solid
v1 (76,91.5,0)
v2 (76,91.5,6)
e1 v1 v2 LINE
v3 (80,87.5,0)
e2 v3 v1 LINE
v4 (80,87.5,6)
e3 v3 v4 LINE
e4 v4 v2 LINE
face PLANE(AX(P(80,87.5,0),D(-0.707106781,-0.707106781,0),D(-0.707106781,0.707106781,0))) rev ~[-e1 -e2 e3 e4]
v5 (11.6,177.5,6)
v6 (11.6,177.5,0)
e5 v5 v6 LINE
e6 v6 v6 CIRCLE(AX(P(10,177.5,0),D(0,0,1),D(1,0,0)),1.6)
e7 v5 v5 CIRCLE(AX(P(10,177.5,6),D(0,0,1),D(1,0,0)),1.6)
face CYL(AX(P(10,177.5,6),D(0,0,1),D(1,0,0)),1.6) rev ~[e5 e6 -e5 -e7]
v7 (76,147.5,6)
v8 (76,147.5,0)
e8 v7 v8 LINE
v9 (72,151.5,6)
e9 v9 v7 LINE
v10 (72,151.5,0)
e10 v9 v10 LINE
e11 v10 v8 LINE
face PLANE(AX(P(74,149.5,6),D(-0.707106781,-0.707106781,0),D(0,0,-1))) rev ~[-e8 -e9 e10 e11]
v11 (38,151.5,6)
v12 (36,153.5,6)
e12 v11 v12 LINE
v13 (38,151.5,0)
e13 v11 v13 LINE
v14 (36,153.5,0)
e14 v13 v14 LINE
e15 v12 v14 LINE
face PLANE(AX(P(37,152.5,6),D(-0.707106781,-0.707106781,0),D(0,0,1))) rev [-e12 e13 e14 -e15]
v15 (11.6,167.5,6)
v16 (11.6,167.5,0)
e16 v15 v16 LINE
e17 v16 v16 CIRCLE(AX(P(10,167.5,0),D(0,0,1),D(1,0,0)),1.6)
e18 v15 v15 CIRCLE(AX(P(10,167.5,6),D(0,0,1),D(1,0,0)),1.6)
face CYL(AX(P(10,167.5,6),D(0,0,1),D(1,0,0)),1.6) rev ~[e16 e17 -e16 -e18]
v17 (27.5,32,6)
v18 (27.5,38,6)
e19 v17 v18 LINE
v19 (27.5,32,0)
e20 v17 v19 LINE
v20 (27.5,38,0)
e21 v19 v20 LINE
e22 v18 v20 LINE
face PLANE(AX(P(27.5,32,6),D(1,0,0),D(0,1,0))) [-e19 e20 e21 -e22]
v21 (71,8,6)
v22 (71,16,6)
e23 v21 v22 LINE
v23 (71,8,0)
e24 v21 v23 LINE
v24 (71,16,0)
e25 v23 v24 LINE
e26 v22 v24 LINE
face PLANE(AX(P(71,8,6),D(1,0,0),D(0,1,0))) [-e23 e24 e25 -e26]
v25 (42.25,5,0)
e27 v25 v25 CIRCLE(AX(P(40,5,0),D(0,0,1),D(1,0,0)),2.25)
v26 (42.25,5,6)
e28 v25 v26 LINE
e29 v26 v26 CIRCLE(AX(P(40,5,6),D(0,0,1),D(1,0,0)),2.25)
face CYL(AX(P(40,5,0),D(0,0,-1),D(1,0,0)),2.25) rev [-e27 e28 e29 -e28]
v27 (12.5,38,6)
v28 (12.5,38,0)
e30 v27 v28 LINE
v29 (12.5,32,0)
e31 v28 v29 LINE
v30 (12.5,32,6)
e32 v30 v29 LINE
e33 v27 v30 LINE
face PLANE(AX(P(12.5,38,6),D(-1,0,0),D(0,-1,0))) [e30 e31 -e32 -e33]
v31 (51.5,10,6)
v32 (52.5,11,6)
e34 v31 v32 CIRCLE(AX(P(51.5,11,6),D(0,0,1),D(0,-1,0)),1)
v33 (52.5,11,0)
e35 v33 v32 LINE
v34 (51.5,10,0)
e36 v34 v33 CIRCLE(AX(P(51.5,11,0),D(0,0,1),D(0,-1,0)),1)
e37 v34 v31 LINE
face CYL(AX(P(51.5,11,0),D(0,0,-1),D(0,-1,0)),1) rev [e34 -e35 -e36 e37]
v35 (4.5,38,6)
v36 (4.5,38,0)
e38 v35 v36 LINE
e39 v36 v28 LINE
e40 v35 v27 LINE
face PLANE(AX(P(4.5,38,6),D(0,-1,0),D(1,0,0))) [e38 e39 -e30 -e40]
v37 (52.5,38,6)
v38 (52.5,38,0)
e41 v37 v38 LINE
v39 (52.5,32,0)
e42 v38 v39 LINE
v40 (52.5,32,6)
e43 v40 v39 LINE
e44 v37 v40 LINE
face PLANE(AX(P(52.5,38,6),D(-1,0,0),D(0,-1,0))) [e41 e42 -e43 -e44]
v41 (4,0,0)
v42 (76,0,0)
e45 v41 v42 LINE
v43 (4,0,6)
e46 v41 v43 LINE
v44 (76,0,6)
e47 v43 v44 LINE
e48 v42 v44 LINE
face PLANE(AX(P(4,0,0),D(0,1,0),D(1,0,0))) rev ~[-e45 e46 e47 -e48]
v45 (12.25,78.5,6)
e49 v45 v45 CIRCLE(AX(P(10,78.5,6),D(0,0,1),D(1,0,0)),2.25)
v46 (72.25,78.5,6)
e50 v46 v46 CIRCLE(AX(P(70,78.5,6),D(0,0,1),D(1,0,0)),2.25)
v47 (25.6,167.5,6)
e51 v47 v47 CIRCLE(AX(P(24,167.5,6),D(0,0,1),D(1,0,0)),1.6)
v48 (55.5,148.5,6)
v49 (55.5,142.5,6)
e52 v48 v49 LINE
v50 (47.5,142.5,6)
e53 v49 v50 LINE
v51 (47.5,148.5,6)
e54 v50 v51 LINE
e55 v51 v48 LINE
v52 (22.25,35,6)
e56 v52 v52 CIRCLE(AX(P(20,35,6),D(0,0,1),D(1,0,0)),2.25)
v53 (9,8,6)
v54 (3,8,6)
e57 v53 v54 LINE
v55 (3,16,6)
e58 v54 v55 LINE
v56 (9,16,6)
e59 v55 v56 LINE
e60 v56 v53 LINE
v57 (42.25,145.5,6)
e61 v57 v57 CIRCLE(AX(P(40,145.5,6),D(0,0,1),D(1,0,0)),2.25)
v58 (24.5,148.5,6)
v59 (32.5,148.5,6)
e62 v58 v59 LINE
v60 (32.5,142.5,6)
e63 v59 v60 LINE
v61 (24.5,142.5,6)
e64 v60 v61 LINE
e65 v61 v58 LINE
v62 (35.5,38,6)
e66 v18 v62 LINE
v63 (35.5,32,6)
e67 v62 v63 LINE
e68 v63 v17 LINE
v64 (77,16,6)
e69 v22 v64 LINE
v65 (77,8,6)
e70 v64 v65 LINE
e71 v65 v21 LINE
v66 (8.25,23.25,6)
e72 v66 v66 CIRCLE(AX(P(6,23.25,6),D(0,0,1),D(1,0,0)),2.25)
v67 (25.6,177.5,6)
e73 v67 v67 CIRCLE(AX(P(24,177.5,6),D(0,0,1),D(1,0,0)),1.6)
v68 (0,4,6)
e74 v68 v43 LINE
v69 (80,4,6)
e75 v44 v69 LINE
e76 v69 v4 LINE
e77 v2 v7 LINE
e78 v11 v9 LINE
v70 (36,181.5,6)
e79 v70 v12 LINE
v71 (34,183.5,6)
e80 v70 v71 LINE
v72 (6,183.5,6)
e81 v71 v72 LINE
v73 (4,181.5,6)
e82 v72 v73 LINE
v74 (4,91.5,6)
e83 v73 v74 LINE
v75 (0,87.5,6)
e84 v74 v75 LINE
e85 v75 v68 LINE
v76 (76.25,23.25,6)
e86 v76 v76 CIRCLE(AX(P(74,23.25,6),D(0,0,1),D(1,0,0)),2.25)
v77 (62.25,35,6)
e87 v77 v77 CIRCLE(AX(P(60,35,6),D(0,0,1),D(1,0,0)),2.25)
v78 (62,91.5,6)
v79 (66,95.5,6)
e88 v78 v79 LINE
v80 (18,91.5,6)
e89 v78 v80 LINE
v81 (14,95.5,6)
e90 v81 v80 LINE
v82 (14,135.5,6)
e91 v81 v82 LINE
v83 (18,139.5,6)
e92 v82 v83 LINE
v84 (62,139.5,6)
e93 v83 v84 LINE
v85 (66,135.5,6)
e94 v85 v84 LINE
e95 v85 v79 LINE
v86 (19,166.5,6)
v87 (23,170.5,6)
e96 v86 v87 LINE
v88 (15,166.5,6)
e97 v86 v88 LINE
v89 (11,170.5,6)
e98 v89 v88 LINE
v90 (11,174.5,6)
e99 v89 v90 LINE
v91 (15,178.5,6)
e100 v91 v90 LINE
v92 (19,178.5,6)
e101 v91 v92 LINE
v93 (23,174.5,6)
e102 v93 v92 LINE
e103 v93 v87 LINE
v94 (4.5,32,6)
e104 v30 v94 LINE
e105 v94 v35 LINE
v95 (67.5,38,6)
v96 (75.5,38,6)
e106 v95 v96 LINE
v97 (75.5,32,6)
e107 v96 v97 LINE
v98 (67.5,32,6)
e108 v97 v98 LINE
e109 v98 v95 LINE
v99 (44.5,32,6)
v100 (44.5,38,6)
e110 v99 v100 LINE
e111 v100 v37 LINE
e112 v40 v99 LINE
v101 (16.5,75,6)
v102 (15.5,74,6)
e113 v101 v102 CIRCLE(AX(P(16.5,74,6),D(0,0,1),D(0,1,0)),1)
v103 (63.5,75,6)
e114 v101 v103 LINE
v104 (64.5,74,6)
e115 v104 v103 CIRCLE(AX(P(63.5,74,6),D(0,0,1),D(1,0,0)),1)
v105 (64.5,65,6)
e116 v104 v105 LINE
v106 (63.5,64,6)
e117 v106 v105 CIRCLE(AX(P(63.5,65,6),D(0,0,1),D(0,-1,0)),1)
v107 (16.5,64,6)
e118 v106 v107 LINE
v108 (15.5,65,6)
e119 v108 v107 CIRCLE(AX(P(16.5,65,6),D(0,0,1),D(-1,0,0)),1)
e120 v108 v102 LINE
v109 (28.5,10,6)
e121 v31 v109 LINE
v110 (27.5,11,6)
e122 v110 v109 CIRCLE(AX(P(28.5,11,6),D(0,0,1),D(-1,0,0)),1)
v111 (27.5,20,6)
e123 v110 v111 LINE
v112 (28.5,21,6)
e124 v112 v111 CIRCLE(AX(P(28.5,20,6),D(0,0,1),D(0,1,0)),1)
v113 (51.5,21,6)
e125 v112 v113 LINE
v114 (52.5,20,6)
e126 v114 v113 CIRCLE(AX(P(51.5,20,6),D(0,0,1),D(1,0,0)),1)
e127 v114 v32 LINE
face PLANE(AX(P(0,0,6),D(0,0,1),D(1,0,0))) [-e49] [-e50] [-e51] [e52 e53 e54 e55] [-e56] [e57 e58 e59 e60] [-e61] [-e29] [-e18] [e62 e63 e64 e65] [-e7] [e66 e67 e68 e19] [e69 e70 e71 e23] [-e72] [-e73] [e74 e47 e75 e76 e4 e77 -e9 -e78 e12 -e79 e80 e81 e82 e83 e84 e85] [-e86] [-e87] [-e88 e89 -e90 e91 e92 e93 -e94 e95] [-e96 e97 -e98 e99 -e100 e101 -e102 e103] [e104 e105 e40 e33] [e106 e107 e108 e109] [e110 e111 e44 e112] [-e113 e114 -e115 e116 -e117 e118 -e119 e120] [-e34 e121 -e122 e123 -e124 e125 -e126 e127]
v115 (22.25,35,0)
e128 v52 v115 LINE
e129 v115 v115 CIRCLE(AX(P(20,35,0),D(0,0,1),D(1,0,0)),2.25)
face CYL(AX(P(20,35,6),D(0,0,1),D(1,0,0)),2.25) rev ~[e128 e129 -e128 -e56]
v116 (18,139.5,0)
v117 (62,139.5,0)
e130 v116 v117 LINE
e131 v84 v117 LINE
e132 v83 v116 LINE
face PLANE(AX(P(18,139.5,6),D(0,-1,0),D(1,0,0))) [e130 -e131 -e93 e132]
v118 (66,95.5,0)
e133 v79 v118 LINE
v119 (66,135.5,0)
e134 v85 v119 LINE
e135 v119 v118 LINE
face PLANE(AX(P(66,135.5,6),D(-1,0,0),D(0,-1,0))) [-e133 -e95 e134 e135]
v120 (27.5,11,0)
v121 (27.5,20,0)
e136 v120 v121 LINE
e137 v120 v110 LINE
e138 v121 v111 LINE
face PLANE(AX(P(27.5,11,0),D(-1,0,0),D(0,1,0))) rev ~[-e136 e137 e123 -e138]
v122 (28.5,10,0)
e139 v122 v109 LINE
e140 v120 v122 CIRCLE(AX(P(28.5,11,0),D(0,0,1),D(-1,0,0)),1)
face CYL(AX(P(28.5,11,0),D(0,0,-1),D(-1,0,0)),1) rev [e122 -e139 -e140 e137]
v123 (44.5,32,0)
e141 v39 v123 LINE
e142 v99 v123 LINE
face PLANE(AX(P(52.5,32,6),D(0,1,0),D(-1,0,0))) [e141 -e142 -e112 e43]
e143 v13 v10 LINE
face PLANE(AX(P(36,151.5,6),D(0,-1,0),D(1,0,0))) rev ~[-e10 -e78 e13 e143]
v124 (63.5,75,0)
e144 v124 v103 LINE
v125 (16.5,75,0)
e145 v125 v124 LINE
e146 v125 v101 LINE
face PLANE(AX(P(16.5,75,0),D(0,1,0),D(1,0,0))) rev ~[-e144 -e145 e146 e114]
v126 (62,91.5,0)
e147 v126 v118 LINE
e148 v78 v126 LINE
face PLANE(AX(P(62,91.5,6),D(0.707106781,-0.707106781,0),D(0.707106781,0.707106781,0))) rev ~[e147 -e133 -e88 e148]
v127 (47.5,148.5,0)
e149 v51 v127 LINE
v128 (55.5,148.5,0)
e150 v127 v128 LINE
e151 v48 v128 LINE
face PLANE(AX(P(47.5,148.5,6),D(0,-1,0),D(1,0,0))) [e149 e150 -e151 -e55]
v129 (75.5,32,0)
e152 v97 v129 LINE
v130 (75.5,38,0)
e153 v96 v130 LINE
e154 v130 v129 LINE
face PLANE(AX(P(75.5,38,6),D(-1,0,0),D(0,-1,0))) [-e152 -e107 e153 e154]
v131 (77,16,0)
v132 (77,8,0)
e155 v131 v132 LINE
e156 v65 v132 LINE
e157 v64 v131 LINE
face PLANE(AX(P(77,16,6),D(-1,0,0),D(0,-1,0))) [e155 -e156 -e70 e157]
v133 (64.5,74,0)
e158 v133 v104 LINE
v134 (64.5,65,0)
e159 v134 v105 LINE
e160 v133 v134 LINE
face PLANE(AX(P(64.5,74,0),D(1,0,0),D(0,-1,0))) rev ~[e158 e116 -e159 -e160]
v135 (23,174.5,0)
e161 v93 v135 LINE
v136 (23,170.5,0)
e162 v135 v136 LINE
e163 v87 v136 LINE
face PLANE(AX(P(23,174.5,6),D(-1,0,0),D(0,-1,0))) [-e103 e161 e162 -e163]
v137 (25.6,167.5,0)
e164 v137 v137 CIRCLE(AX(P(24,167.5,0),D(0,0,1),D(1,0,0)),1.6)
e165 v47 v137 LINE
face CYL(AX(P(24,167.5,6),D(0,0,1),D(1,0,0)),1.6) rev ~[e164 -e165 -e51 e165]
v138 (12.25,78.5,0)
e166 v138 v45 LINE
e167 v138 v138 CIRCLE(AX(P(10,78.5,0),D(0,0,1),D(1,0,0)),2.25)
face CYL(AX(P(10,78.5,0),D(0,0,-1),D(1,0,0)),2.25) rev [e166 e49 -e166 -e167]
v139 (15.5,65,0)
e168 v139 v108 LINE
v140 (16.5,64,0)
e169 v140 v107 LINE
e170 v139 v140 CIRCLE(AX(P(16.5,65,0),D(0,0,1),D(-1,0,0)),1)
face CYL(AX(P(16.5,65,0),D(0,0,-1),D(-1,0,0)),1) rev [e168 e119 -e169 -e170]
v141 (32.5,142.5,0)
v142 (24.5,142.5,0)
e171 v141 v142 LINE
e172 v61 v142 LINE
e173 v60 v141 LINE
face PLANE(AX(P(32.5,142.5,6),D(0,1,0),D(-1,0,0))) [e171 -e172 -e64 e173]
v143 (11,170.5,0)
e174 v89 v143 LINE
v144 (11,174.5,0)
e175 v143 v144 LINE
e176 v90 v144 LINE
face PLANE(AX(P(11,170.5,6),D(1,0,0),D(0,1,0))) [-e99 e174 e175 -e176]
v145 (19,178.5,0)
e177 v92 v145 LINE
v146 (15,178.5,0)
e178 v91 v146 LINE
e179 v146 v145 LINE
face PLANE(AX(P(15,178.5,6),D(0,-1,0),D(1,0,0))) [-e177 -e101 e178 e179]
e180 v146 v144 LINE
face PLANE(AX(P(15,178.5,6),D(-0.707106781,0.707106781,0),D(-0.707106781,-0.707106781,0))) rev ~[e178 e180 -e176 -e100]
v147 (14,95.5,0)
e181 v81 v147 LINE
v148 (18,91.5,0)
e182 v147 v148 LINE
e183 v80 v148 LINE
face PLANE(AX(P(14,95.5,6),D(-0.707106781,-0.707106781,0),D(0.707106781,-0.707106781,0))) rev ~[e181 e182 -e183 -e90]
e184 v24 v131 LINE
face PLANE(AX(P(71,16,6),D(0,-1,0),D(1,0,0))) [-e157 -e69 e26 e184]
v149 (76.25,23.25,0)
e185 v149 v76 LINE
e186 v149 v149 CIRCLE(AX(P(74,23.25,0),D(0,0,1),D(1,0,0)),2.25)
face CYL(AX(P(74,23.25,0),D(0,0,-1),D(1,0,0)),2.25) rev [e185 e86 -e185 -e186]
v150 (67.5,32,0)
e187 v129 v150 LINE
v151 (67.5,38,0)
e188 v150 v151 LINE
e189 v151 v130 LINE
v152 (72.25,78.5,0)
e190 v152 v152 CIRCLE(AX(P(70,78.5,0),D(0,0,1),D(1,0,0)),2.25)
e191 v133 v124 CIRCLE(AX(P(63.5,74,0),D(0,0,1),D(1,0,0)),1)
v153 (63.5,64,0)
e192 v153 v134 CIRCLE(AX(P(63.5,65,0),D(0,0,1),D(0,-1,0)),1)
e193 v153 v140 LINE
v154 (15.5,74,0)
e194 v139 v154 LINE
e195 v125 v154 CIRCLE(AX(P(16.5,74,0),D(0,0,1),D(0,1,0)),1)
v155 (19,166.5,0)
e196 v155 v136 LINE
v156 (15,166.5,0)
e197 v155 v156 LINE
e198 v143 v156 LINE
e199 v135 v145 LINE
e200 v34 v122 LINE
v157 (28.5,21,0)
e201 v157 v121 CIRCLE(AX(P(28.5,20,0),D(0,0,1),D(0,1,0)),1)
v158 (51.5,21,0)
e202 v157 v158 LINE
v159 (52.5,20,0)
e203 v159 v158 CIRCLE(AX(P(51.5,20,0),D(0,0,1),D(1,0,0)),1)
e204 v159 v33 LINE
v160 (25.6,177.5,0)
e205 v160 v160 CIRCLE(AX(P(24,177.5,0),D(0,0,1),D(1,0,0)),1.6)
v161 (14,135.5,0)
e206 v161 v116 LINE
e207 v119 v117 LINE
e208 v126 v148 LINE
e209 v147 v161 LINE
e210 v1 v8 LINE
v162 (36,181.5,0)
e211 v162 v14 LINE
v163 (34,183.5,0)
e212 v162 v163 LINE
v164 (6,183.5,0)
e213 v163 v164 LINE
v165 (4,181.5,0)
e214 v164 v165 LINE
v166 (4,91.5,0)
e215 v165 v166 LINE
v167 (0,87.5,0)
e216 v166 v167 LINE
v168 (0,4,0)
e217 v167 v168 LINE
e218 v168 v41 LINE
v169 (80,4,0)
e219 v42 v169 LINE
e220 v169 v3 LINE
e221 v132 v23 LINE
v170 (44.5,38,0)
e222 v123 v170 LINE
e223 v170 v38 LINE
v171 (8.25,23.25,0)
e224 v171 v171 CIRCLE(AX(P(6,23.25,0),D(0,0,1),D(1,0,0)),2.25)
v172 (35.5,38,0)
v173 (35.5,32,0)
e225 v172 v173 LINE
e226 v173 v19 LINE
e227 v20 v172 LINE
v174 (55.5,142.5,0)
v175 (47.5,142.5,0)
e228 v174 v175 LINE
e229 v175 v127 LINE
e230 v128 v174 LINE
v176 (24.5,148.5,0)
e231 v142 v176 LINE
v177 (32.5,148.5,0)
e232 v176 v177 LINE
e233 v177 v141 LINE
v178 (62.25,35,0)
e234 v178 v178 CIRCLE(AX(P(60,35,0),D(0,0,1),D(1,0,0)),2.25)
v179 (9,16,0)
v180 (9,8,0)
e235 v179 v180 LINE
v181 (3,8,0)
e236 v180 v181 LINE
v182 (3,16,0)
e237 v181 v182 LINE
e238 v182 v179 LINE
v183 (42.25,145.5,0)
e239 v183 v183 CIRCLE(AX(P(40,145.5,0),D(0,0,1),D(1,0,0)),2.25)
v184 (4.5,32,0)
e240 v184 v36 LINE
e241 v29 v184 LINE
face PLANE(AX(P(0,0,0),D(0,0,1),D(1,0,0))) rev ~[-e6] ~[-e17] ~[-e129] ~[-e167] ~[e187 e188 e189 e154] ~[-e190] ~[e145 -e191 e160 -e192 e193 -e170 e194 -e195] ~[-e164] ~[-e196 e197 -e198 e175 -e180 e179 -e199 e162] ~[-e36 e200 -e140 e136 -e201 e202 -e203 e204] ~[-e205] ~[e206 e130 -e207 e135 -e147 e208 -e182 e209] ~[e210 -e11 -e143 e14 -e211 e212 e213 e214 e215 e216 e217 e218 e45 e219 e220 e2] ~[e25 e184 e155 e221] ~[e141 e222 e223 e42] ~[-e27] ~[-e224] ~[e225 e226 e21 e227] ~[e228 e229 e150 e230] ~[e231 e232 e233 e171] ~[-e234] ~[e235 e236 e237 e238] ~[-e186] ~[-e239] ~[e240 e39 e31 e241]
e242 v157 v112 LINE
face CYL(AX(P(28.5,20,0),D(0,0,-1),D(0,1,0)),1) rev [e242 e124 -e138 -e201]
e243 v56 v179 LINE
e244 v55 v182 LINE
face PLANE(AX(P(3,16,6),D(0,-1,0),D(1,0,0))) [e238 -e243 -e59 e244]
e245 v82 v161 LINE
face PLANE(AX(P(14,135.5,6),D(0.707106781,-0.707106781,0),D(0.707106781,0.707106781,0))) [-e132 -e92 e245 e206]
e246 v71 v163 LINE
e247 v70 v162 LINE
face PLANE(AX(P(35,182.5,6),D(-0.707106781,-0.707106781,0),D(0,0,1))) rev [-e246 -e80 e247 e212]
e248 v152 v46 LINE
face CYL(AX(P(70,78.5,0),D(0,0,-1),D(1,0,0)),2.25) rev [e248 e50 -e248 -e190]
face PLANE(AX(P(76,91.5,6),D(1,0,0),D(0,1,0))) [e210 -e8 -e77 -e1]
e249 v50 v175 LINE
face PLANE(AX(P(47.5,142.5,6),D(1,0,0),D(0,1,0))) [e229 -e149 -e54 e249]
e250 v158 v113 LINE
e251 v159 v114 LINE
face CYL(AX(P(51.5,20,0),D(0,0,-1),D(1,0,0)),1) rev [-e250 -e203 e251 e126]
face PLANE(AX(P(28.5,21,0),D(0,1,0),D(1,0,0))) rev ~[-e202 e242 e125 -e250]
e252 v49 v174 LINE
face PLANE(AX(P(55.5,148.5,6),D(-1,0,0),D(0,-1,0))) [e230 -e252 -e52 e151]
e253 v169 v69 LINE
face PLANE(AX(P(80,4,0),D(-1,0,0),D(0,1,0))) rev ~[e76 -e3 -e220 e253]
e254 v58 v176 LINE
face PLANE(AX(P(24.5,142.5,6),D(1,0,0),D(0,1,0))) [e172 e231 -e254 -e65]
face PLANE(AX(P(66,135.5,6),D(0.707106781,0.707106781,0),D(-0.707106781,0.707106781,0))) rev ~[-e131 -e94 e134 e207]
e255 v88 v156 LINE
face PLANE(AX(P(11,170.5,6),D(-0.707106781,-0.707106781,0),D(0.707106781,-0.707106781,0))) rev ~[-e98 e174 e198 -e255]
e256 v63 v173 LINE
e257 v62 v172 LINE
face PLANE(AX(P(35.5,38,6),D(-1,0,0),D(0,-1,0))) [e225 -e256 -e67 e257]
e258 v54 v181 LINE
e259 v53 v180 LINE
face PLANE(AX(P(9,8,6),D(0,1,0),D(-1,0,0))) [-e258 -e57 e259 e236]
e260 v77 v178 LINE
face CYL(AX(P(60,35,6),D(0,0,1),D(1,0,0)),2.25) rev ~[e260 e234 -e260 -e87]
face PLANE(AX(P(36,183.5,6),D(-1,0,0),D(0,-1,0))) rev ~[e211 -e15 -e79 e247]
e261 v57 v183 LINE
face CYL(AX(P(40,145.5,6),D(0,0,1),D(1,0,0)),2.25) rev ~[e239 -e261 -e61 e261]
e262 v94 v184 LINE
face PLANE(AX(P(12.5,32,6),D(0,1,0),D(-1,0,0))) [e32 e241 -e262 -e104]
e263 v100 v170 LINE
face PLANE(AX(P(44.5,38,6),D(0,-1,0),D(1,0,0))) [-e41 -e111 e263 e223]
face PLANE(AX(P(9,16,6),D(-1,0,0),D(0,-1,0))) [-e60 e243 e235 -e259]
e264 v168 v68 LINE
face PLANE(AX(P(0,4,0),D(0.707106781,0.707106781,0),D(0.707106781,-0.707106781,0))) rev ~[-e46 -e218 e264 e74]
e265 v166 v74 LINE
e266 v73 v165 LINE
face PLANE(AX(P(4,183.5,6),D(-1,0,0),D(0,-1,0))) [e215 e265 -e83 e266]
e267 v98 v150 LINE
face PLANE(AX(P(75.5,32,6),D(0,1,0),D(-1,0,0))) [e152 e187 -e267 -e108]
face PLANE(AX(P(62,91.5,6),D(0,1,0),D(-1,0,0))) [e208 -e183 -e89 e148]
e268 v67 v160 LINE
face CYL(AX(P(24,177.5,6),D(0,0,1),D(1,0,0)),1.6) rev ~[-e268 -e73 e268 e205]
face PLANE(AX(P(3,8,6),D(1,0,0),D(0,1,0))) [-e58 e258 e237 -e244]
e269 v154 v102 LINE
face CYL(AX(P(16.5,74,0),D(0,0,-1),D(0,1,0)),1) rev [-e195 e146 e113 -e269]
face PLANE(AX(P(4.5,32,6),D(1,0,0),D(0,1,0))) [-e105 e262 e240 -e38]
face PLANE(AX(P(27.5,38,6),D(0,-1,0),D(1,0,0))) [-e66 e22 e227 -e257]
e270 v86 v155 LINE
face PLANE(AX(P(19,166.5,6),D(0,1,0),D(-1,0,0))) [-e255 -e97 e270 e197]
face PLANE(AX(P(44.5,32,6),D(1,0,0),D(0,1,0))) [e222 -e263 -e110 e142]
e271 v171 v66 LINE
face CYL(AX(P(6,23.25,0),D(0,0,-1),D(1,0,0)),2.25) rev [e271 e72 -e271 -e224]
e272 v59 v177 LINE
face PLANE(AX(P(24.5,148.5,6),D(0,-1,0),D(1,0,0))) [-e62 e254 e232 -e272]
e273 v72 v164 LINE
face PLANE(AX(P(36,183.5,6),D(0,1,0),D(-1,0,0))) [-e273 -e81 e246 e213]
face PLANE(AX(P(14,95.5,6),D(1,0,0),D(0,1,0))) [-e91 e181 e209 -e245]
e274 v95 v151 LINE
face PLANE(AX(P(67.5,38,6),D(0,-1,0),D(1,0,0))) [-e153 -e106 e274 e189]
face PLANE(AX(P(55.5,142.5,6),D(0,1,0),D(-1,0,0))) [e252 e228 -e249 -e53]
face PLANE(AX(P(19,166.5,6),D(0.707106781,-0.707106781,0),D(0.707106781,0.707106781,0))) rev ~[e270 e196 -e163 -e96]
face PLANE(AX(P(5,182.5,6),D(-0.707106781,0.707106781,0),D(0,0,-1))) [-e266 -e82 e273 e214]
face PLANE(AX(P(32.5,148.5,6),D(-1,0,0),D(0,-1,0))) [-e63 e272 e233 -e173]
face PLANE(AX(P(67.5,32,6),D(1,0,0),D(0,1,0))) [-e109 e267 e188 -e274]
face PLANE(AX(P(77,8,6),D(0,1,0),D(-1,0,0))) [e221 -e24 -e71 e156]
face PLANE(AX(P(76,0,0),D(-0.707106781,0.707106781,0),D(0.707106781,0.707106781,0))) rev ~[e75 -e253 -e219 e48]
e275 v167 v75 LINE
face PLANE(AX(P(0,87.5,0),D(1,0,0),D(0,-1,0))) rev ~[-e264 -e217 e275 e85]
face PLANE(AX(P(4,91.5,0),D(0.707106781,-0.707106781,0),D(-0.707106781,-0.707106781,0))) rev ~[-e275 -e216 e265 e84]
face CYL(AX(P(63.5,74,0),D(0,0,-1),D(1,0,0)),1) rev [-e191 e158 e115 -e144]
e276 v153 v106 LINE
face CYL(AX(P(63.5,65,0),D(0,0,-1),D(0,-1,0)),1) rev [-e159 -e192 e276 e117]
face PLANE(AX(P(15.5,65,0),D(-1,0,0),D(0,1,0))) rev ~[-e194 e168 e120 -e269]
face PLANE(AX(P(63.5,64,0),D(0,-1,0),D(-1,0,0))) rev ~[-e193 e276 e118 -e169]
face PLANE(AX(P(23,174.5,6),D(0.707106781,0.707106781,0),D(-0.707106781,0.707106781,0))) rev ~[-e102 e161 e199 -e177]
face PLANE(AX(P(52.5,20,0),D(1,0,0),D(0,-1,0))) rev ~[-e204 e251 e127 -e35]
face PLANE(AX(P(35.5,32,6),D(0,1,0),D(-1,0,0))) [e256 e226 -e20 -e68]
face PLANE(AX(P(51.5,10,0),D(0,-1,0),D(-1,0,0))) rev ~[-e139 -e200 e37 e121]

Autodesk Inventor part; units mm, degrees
ref_plane "YZ Plane" through (0, 0, 0) normal (1, 0, 0) x (0, 1, 0)
ref_plane "XZ Plane" through (0, 0, 0) normal (0, 1, 0) x (-1, 0, 0)
ref_plane "XY Plane" through (0, 0, 0) normal (0, 0, 1) x (1, 0, 0)
sketch "Sketch1" plane through (0, 0, 0) normal (0, 0, 1) x (1, 0, 0)
  line L0 (4, 0) -> (76, 0)
  line L1 (80, 4) -> (80, 87.5)
  line L2 (76, 91.5) -> (4, 91.5)
  line L3 (0, 87.5) -> (0, 4)
  line L4 (0, 4) -> (4, 0)
  line L5 (76, 0) -> (80, 4)
  line L6 (80, 87.5) -> (76, 91.5)
  line L7 (4, 91.5) -> (0, 87.5)
  line L8 (16.5, 75) -> (63.5, 75)
  line L9 (64.5, 74) -> (64.5, 65)
  line L10 (63.5, 64) -> (16.5, 64)
  line L11 (15.5, 65) -> (15.5, 74)
  arc A0 (15.5, 65) -> (16.5, 64) centre (16.5, 65) ccw
  arc A1 (16.5, 75) -> (15.5, 74) centre (16.5, 74) ccw
  arc A2 (64.5, 74) -> (63.5, 75) centre (63.5, 74) ccw
  arc A3 (63.5, 64) -> (64.5, 65) centre (63.5, 65) ccw
  line L12 (28.5, 21) -> (51.5, 21)
  line L13 (52.5, 20) -> (52.5, 11)
  line L14 (51.5, 10) -> (28.5, 10)
  line L15 (27.5, 11) -> (27.5, 20)
  arc A4 (27.5, 11) -> (28.5, 10) centre (28.5, 11) ccw
  arc A5 (28.5, 21) -> (27.5, 20) centre (28.5, 20) ccw
  arc A6 (52.5, 20) -> (51.5, 21) centre (51.5, 20) ccw
  arc A7 (51.5, 10) -> (52.5, 11) centre (51.5, 11) ccw
  line L16 (15.5, 69.5) -> (64.5, 69.5) construction
  line L17 (27.5, 15.5) -> (52.5, 15.5) construction
  circle A8 centre (40, 5) radius 2.25
  circle A9 centre (10, 78.5) radius 2.25
  circle A10 centre (6, 23.25) radius 2.25
  circle A11 centre (74, 23.25) radius 2.25
  circle A12 centre (70, 78.5) radius 2.25
  point P0 (0, 0)
  point P1 (40, 64)
  point P2 (40, 21)
  point P3 (40, 75)
  point P4 (40, 91.5)
  point P5 (0, 45.75)
  point P6 (80, 45.75)
  dimension "d0" = 45
  dimension "d1" = 4
  dimension "d2" = 1
  dimension "d3" = 11
  dimension "d4" = 49
  dimension "d5" = 1
  dimension "d6" = 11
  dimension "d7" = 25
  dimension "d9" = 10
  dimension "d10" = 16.5
  dimension "d11" = 4.5
  dimension "d12" = 4.5
  dimension "d13" = 5
  dimension "d15" = 4.5
  dimension "d16" = 4.5
  dimension "d19" = 54
  dimension "d22" = 80
  dimension "d23" = 6
  dimension "d24" = 6
  dimension "d25" = 23.25
  dimension "d26" = 4.5
  dimension "d27" = 10
  dimension "d28" = 10
  dimension "d54" = 3.5
extrude "Extrusion2" add sketch "Sketch1" along normal blind 6
sketch "Sketch2" plane through (0, 0, 6) normal (0, 0, 1) x (1, 0, 0)
  line L0 (4, 0) -> (76, 0) projected
  circle A0 centre (20, 35) radius 2.25
  circle A1 centre (60, 35) radius 2.25
  line L1 (20, 35) -> (60, 35) construction
  point P0 (0, 0)
  point P1 (40, 35)
  point P2 (40, 0)
  dimension "d31" = 4.5
  dimension "d32" = 4.5
  dimension "d33" = 40
  dimension "d34" = 35
extrude "Extrusion3" cut sketch "Sketch2" against normal through all
sketch "Sketch3" plane through (0, 0, 6) normal (0, 0, 1) x (1, 0, 0)
  circle A0 centre (20, 35) radius 2.25 projected
  circle A1 centre (60, 35) radius 2.25 projected
  line L0 (80, 4) -> (80, 87.5) projected
  line L1 (0, 87.5) -> (0, 4) projected
  line L2 (27.5, 38) -> (35.5, 38)
  line L3 (35.5, 38) -> (35.5, 32)
  line L4 (35.5, 32) -> (27.5, 32)
  line L5 (27.5, 32) -> (27.5, 38)
  line L6 (44.5, 38) -> (52.5, 38)
  line L7 (52.5, 38) -> (52.5, 32)
  line L8 (52.5, 32) -> (44.5, 32)
  line L9 (44.5, 32) -> (44.5, 38)
  line L10 (67.5, 38) -> (75.5, 38)
  line L11 (75.5, 38) -> (75.5, 32)
  line L12 (75.5, 32) -> (67.5, 32)
  line L13 (67.5, 32) -> (67.5, 38)
  line L14 (4.5, 38) -> (12.5, 38)
  line L15 (12.5, 38) -> (12.5, 32)
  line L16 (12.5, 32) -> (4.5, 32)
  line L17 (4.5, 32) -> (4.5, 38)
  line L18 (3, 16) -> (9, 16)
  line L19 (9, 16) -> (9, 8)
  line L20 (9, 8) -> (3, 8)
  line L21 (3, 8) -> (3, 16)
  line L22 (71, 16) -> (77, 16)
  line L23 (77, 16) -> (77, 8)
  line L24 (77, 8) -> (71, 8)
  line L25 (71, 8) -> (71, 16)
  point P0 (0, 0)
  point P1 (12.5, 35)
  dimension "d37" = 6
  dimension "d38" = 8
  dimension "d39" = 8
  dimension "d40" = 8
  dimension "d41" = 8
  dimension "d42" = 6
  dimension "d43" = 8
  dimension "d44" = 6
  dimension "d45" = 3
  dimension "d46" = 3
  dimension "d47" = 4
  dimension "d48" = 15
  dimension "d49" = 15
  dimension "d50" = 7.5
  dimension "d51" = 7.5
extrude "Extrusion4" cut sketch "Sketch3" against normal through all contours L2 L3 L4 L5 | L6 L7 L8 L9 | L10 L11 L12 L13 | L14 L15 L16 L17 | L18 L19 L20 L21 | L22 L23 L24 L25
sketch "Sketch4" plane through (0, 0, 6) normal (0, 0, 1) x (1, 0, 0)
  line L0 (4, 91.5) -> (76, 91.5)
  line L1 (76, 91.5) -> (76, 151.5)
  line L2 (36, 183.5) -> (4, 183.5)
  line L3 (4, 183.5) -> (4, 91.5)
  line L4 (36, 183.5) -> (36, 151.5)
  line L5 (36, 151.5) -> (76, 151.5)
  point P0 (0, 0)
  dimension "d55" = 92
  dimension "d57" = 32
  dimension "d58" = 32
extrude "Extrusion5" add sketch "Sketch4" against normal blind 6
chamfer "Chamfer1" distance 4 angle 45 1 edges at (76, 151.5, 3)
chamfer "Chamfer2" distance 2 angle 45 3 edges at (36, 151.5, 3) (36, 183.5, 3) (4, 183.5, 3)
sketch "Sketch5" plane through (0, 0, 6) normal (0, 0, 1) x (1, 0, 0)
  line L0 (4, 181.5) -> (4, 91.5) projected
  line L1 (34, 183.5) -> (6, 183.5) projected
  line L2 (10, 177.5) -> (24, 177.5) construction
  line L3 (24, 177.5) -> (24, 167.5) construction
  line L4 (24, 167.5) -> (10, 167.5) construction
  line L5 (10, 167.5) -> (10, 177.5) construction
  line L6 (15, 178.5) -> (19, 178.5)
  line L7 (23, 174.5) -> (23, 170.5)
  line L8 (19, 166.5) -> (15, 166.5)
  line L9 (11, 170.5) -> (11, 174.5)
  line L10 (11, 170.5) -> (15, 166.5)
  line L11 (19, 166.5) -> (23, 170.5)
  line L12 (23, 174.5) -> (19, 178.5)
  line L13 (15, 178.5) -> (11, 174.5)
  circle A0 centre (10, 177.5) radius 1.6
  circle A1 centre (10, 167.5) radius 1.6
  circle A2 centre (24, 167.5) radius 1.6
  circle A3 centre (24, 177.5) radius 1.6
  point P0 (0, 0)
  point P1 (23, 172.5)
  point P2 (24, 172.5)
  dimension "d67" = 45
  dimension "d68" = 4
  dimension "d69" = 3.2
  dimension "d70" = 14
  dimension "d71" = 10
  dimension "d72" = 1
  dimension "d73" = 1
  dimension "d74" = 6
  dimension "d75" = 6
extrude "Extrusion6" cut sketch "Sketch5" against normal through all
sketch "Sketch6" plane through (0, 0, 6) normal (0, 0, 1) x (1, 0, 0)
  line L0 (72, 151.5) -> (38, 151.5) projected
  line L1 (16.5, 75) -> (63.5, 75) projected
  line L2 (24.5, 148.5) -> (32.5, 148.5)
  line L3 (32.5, 148.5) -> (32.5, 142.5)
  line L4 (32.5, 142.5) -> (24.5, 142.5)
  line L5 (24.5, 142.5) -> (24.5, 148.5)
  line L6 (47.5, 148.5) -> (55.5, 148.5)
  line L7 (55.5, 148.5) -> (55.5, 142.5)
  line L8 (55.5, 142.5) -> (47.5, 142.5)
  line L9 (47.5, 142.5) -> (47.5, 148.5)
  line L10 (32.5, 148.5) -> (47.5, 142.5) construction
  line L11 (47.5, 148.5) -> (32.5, 142.5) construction
  circle A0 centre (40, 145.5) radius 2.25
  point P0 (0, 0)
  point P1 (40, 75)
  dimension "d78" = 6
  dimension "d79" = 8
  dimension "d80" = 8
  dimension "d81" = 15
  dimension "d82" = 4.5
  dimension "d83" = 3
extrude "Extrusion7" cut sketch "Sketch6" against normal through all
sketch "Sketch7" plane through (0, 0, 6) normal (0, 0, 1) x (1, 0, 0)
  line L0 (32.5, 142.5) -> (24.5, 142.5) projected
  line L1 (4, 181.5) -> (4, 91.5) projected
  line L2 (76, 91.5) -> (76, 147.5) projected
  line L3 (18, 139.5) -> (62, 139.5)
  line L4 (66, 135.5) -> (66, 95.5)
  line L5 (62, 91.5) -> (18, 91.5)
  line L6 (14, 95.5) -> (14, 135.5)
  line L7 (14, 135.5) -> (18, 139.5)
  line L8 (14, 95.5) -> (18, 91.5)
  line L9 (62, 91.5) -> (66, 95.5)
  line L10 (66, 135.5) -> (62, 139.5)
  point P0 (0, 0)
  point P1 (14, 139.5)
  point P2 (66, 91.5)
  point P3 (66, 139.5)
  point P4 (14, 91.5)
  dimension "d86" = 4
  dimension "d87" = 4
  dimension "d88" = 4
  dimension "d89" = 4
  dimension "d90" = 4
  dimension "d91" = 4
  dimension "d92" = 4
  dimension "d93" = 4
  dimension "d94" = 10
  dimension "d95" = 10
  dimension "d96" = 3
extrude "Extrusion8" cut sketch "Sketch7" against normal through all
equation "\"d87\" = d86"
equation "\"d88\" = d86"
equation "\"d89\" = d88"
equation "\"d90\" = d86"
equation "\"d91\" = d90"
equation "\"d92\" = d86"
equation "\"d93\" = d92"
equation "\"d95\" = d94"
properties part number "x_carriage_front"
